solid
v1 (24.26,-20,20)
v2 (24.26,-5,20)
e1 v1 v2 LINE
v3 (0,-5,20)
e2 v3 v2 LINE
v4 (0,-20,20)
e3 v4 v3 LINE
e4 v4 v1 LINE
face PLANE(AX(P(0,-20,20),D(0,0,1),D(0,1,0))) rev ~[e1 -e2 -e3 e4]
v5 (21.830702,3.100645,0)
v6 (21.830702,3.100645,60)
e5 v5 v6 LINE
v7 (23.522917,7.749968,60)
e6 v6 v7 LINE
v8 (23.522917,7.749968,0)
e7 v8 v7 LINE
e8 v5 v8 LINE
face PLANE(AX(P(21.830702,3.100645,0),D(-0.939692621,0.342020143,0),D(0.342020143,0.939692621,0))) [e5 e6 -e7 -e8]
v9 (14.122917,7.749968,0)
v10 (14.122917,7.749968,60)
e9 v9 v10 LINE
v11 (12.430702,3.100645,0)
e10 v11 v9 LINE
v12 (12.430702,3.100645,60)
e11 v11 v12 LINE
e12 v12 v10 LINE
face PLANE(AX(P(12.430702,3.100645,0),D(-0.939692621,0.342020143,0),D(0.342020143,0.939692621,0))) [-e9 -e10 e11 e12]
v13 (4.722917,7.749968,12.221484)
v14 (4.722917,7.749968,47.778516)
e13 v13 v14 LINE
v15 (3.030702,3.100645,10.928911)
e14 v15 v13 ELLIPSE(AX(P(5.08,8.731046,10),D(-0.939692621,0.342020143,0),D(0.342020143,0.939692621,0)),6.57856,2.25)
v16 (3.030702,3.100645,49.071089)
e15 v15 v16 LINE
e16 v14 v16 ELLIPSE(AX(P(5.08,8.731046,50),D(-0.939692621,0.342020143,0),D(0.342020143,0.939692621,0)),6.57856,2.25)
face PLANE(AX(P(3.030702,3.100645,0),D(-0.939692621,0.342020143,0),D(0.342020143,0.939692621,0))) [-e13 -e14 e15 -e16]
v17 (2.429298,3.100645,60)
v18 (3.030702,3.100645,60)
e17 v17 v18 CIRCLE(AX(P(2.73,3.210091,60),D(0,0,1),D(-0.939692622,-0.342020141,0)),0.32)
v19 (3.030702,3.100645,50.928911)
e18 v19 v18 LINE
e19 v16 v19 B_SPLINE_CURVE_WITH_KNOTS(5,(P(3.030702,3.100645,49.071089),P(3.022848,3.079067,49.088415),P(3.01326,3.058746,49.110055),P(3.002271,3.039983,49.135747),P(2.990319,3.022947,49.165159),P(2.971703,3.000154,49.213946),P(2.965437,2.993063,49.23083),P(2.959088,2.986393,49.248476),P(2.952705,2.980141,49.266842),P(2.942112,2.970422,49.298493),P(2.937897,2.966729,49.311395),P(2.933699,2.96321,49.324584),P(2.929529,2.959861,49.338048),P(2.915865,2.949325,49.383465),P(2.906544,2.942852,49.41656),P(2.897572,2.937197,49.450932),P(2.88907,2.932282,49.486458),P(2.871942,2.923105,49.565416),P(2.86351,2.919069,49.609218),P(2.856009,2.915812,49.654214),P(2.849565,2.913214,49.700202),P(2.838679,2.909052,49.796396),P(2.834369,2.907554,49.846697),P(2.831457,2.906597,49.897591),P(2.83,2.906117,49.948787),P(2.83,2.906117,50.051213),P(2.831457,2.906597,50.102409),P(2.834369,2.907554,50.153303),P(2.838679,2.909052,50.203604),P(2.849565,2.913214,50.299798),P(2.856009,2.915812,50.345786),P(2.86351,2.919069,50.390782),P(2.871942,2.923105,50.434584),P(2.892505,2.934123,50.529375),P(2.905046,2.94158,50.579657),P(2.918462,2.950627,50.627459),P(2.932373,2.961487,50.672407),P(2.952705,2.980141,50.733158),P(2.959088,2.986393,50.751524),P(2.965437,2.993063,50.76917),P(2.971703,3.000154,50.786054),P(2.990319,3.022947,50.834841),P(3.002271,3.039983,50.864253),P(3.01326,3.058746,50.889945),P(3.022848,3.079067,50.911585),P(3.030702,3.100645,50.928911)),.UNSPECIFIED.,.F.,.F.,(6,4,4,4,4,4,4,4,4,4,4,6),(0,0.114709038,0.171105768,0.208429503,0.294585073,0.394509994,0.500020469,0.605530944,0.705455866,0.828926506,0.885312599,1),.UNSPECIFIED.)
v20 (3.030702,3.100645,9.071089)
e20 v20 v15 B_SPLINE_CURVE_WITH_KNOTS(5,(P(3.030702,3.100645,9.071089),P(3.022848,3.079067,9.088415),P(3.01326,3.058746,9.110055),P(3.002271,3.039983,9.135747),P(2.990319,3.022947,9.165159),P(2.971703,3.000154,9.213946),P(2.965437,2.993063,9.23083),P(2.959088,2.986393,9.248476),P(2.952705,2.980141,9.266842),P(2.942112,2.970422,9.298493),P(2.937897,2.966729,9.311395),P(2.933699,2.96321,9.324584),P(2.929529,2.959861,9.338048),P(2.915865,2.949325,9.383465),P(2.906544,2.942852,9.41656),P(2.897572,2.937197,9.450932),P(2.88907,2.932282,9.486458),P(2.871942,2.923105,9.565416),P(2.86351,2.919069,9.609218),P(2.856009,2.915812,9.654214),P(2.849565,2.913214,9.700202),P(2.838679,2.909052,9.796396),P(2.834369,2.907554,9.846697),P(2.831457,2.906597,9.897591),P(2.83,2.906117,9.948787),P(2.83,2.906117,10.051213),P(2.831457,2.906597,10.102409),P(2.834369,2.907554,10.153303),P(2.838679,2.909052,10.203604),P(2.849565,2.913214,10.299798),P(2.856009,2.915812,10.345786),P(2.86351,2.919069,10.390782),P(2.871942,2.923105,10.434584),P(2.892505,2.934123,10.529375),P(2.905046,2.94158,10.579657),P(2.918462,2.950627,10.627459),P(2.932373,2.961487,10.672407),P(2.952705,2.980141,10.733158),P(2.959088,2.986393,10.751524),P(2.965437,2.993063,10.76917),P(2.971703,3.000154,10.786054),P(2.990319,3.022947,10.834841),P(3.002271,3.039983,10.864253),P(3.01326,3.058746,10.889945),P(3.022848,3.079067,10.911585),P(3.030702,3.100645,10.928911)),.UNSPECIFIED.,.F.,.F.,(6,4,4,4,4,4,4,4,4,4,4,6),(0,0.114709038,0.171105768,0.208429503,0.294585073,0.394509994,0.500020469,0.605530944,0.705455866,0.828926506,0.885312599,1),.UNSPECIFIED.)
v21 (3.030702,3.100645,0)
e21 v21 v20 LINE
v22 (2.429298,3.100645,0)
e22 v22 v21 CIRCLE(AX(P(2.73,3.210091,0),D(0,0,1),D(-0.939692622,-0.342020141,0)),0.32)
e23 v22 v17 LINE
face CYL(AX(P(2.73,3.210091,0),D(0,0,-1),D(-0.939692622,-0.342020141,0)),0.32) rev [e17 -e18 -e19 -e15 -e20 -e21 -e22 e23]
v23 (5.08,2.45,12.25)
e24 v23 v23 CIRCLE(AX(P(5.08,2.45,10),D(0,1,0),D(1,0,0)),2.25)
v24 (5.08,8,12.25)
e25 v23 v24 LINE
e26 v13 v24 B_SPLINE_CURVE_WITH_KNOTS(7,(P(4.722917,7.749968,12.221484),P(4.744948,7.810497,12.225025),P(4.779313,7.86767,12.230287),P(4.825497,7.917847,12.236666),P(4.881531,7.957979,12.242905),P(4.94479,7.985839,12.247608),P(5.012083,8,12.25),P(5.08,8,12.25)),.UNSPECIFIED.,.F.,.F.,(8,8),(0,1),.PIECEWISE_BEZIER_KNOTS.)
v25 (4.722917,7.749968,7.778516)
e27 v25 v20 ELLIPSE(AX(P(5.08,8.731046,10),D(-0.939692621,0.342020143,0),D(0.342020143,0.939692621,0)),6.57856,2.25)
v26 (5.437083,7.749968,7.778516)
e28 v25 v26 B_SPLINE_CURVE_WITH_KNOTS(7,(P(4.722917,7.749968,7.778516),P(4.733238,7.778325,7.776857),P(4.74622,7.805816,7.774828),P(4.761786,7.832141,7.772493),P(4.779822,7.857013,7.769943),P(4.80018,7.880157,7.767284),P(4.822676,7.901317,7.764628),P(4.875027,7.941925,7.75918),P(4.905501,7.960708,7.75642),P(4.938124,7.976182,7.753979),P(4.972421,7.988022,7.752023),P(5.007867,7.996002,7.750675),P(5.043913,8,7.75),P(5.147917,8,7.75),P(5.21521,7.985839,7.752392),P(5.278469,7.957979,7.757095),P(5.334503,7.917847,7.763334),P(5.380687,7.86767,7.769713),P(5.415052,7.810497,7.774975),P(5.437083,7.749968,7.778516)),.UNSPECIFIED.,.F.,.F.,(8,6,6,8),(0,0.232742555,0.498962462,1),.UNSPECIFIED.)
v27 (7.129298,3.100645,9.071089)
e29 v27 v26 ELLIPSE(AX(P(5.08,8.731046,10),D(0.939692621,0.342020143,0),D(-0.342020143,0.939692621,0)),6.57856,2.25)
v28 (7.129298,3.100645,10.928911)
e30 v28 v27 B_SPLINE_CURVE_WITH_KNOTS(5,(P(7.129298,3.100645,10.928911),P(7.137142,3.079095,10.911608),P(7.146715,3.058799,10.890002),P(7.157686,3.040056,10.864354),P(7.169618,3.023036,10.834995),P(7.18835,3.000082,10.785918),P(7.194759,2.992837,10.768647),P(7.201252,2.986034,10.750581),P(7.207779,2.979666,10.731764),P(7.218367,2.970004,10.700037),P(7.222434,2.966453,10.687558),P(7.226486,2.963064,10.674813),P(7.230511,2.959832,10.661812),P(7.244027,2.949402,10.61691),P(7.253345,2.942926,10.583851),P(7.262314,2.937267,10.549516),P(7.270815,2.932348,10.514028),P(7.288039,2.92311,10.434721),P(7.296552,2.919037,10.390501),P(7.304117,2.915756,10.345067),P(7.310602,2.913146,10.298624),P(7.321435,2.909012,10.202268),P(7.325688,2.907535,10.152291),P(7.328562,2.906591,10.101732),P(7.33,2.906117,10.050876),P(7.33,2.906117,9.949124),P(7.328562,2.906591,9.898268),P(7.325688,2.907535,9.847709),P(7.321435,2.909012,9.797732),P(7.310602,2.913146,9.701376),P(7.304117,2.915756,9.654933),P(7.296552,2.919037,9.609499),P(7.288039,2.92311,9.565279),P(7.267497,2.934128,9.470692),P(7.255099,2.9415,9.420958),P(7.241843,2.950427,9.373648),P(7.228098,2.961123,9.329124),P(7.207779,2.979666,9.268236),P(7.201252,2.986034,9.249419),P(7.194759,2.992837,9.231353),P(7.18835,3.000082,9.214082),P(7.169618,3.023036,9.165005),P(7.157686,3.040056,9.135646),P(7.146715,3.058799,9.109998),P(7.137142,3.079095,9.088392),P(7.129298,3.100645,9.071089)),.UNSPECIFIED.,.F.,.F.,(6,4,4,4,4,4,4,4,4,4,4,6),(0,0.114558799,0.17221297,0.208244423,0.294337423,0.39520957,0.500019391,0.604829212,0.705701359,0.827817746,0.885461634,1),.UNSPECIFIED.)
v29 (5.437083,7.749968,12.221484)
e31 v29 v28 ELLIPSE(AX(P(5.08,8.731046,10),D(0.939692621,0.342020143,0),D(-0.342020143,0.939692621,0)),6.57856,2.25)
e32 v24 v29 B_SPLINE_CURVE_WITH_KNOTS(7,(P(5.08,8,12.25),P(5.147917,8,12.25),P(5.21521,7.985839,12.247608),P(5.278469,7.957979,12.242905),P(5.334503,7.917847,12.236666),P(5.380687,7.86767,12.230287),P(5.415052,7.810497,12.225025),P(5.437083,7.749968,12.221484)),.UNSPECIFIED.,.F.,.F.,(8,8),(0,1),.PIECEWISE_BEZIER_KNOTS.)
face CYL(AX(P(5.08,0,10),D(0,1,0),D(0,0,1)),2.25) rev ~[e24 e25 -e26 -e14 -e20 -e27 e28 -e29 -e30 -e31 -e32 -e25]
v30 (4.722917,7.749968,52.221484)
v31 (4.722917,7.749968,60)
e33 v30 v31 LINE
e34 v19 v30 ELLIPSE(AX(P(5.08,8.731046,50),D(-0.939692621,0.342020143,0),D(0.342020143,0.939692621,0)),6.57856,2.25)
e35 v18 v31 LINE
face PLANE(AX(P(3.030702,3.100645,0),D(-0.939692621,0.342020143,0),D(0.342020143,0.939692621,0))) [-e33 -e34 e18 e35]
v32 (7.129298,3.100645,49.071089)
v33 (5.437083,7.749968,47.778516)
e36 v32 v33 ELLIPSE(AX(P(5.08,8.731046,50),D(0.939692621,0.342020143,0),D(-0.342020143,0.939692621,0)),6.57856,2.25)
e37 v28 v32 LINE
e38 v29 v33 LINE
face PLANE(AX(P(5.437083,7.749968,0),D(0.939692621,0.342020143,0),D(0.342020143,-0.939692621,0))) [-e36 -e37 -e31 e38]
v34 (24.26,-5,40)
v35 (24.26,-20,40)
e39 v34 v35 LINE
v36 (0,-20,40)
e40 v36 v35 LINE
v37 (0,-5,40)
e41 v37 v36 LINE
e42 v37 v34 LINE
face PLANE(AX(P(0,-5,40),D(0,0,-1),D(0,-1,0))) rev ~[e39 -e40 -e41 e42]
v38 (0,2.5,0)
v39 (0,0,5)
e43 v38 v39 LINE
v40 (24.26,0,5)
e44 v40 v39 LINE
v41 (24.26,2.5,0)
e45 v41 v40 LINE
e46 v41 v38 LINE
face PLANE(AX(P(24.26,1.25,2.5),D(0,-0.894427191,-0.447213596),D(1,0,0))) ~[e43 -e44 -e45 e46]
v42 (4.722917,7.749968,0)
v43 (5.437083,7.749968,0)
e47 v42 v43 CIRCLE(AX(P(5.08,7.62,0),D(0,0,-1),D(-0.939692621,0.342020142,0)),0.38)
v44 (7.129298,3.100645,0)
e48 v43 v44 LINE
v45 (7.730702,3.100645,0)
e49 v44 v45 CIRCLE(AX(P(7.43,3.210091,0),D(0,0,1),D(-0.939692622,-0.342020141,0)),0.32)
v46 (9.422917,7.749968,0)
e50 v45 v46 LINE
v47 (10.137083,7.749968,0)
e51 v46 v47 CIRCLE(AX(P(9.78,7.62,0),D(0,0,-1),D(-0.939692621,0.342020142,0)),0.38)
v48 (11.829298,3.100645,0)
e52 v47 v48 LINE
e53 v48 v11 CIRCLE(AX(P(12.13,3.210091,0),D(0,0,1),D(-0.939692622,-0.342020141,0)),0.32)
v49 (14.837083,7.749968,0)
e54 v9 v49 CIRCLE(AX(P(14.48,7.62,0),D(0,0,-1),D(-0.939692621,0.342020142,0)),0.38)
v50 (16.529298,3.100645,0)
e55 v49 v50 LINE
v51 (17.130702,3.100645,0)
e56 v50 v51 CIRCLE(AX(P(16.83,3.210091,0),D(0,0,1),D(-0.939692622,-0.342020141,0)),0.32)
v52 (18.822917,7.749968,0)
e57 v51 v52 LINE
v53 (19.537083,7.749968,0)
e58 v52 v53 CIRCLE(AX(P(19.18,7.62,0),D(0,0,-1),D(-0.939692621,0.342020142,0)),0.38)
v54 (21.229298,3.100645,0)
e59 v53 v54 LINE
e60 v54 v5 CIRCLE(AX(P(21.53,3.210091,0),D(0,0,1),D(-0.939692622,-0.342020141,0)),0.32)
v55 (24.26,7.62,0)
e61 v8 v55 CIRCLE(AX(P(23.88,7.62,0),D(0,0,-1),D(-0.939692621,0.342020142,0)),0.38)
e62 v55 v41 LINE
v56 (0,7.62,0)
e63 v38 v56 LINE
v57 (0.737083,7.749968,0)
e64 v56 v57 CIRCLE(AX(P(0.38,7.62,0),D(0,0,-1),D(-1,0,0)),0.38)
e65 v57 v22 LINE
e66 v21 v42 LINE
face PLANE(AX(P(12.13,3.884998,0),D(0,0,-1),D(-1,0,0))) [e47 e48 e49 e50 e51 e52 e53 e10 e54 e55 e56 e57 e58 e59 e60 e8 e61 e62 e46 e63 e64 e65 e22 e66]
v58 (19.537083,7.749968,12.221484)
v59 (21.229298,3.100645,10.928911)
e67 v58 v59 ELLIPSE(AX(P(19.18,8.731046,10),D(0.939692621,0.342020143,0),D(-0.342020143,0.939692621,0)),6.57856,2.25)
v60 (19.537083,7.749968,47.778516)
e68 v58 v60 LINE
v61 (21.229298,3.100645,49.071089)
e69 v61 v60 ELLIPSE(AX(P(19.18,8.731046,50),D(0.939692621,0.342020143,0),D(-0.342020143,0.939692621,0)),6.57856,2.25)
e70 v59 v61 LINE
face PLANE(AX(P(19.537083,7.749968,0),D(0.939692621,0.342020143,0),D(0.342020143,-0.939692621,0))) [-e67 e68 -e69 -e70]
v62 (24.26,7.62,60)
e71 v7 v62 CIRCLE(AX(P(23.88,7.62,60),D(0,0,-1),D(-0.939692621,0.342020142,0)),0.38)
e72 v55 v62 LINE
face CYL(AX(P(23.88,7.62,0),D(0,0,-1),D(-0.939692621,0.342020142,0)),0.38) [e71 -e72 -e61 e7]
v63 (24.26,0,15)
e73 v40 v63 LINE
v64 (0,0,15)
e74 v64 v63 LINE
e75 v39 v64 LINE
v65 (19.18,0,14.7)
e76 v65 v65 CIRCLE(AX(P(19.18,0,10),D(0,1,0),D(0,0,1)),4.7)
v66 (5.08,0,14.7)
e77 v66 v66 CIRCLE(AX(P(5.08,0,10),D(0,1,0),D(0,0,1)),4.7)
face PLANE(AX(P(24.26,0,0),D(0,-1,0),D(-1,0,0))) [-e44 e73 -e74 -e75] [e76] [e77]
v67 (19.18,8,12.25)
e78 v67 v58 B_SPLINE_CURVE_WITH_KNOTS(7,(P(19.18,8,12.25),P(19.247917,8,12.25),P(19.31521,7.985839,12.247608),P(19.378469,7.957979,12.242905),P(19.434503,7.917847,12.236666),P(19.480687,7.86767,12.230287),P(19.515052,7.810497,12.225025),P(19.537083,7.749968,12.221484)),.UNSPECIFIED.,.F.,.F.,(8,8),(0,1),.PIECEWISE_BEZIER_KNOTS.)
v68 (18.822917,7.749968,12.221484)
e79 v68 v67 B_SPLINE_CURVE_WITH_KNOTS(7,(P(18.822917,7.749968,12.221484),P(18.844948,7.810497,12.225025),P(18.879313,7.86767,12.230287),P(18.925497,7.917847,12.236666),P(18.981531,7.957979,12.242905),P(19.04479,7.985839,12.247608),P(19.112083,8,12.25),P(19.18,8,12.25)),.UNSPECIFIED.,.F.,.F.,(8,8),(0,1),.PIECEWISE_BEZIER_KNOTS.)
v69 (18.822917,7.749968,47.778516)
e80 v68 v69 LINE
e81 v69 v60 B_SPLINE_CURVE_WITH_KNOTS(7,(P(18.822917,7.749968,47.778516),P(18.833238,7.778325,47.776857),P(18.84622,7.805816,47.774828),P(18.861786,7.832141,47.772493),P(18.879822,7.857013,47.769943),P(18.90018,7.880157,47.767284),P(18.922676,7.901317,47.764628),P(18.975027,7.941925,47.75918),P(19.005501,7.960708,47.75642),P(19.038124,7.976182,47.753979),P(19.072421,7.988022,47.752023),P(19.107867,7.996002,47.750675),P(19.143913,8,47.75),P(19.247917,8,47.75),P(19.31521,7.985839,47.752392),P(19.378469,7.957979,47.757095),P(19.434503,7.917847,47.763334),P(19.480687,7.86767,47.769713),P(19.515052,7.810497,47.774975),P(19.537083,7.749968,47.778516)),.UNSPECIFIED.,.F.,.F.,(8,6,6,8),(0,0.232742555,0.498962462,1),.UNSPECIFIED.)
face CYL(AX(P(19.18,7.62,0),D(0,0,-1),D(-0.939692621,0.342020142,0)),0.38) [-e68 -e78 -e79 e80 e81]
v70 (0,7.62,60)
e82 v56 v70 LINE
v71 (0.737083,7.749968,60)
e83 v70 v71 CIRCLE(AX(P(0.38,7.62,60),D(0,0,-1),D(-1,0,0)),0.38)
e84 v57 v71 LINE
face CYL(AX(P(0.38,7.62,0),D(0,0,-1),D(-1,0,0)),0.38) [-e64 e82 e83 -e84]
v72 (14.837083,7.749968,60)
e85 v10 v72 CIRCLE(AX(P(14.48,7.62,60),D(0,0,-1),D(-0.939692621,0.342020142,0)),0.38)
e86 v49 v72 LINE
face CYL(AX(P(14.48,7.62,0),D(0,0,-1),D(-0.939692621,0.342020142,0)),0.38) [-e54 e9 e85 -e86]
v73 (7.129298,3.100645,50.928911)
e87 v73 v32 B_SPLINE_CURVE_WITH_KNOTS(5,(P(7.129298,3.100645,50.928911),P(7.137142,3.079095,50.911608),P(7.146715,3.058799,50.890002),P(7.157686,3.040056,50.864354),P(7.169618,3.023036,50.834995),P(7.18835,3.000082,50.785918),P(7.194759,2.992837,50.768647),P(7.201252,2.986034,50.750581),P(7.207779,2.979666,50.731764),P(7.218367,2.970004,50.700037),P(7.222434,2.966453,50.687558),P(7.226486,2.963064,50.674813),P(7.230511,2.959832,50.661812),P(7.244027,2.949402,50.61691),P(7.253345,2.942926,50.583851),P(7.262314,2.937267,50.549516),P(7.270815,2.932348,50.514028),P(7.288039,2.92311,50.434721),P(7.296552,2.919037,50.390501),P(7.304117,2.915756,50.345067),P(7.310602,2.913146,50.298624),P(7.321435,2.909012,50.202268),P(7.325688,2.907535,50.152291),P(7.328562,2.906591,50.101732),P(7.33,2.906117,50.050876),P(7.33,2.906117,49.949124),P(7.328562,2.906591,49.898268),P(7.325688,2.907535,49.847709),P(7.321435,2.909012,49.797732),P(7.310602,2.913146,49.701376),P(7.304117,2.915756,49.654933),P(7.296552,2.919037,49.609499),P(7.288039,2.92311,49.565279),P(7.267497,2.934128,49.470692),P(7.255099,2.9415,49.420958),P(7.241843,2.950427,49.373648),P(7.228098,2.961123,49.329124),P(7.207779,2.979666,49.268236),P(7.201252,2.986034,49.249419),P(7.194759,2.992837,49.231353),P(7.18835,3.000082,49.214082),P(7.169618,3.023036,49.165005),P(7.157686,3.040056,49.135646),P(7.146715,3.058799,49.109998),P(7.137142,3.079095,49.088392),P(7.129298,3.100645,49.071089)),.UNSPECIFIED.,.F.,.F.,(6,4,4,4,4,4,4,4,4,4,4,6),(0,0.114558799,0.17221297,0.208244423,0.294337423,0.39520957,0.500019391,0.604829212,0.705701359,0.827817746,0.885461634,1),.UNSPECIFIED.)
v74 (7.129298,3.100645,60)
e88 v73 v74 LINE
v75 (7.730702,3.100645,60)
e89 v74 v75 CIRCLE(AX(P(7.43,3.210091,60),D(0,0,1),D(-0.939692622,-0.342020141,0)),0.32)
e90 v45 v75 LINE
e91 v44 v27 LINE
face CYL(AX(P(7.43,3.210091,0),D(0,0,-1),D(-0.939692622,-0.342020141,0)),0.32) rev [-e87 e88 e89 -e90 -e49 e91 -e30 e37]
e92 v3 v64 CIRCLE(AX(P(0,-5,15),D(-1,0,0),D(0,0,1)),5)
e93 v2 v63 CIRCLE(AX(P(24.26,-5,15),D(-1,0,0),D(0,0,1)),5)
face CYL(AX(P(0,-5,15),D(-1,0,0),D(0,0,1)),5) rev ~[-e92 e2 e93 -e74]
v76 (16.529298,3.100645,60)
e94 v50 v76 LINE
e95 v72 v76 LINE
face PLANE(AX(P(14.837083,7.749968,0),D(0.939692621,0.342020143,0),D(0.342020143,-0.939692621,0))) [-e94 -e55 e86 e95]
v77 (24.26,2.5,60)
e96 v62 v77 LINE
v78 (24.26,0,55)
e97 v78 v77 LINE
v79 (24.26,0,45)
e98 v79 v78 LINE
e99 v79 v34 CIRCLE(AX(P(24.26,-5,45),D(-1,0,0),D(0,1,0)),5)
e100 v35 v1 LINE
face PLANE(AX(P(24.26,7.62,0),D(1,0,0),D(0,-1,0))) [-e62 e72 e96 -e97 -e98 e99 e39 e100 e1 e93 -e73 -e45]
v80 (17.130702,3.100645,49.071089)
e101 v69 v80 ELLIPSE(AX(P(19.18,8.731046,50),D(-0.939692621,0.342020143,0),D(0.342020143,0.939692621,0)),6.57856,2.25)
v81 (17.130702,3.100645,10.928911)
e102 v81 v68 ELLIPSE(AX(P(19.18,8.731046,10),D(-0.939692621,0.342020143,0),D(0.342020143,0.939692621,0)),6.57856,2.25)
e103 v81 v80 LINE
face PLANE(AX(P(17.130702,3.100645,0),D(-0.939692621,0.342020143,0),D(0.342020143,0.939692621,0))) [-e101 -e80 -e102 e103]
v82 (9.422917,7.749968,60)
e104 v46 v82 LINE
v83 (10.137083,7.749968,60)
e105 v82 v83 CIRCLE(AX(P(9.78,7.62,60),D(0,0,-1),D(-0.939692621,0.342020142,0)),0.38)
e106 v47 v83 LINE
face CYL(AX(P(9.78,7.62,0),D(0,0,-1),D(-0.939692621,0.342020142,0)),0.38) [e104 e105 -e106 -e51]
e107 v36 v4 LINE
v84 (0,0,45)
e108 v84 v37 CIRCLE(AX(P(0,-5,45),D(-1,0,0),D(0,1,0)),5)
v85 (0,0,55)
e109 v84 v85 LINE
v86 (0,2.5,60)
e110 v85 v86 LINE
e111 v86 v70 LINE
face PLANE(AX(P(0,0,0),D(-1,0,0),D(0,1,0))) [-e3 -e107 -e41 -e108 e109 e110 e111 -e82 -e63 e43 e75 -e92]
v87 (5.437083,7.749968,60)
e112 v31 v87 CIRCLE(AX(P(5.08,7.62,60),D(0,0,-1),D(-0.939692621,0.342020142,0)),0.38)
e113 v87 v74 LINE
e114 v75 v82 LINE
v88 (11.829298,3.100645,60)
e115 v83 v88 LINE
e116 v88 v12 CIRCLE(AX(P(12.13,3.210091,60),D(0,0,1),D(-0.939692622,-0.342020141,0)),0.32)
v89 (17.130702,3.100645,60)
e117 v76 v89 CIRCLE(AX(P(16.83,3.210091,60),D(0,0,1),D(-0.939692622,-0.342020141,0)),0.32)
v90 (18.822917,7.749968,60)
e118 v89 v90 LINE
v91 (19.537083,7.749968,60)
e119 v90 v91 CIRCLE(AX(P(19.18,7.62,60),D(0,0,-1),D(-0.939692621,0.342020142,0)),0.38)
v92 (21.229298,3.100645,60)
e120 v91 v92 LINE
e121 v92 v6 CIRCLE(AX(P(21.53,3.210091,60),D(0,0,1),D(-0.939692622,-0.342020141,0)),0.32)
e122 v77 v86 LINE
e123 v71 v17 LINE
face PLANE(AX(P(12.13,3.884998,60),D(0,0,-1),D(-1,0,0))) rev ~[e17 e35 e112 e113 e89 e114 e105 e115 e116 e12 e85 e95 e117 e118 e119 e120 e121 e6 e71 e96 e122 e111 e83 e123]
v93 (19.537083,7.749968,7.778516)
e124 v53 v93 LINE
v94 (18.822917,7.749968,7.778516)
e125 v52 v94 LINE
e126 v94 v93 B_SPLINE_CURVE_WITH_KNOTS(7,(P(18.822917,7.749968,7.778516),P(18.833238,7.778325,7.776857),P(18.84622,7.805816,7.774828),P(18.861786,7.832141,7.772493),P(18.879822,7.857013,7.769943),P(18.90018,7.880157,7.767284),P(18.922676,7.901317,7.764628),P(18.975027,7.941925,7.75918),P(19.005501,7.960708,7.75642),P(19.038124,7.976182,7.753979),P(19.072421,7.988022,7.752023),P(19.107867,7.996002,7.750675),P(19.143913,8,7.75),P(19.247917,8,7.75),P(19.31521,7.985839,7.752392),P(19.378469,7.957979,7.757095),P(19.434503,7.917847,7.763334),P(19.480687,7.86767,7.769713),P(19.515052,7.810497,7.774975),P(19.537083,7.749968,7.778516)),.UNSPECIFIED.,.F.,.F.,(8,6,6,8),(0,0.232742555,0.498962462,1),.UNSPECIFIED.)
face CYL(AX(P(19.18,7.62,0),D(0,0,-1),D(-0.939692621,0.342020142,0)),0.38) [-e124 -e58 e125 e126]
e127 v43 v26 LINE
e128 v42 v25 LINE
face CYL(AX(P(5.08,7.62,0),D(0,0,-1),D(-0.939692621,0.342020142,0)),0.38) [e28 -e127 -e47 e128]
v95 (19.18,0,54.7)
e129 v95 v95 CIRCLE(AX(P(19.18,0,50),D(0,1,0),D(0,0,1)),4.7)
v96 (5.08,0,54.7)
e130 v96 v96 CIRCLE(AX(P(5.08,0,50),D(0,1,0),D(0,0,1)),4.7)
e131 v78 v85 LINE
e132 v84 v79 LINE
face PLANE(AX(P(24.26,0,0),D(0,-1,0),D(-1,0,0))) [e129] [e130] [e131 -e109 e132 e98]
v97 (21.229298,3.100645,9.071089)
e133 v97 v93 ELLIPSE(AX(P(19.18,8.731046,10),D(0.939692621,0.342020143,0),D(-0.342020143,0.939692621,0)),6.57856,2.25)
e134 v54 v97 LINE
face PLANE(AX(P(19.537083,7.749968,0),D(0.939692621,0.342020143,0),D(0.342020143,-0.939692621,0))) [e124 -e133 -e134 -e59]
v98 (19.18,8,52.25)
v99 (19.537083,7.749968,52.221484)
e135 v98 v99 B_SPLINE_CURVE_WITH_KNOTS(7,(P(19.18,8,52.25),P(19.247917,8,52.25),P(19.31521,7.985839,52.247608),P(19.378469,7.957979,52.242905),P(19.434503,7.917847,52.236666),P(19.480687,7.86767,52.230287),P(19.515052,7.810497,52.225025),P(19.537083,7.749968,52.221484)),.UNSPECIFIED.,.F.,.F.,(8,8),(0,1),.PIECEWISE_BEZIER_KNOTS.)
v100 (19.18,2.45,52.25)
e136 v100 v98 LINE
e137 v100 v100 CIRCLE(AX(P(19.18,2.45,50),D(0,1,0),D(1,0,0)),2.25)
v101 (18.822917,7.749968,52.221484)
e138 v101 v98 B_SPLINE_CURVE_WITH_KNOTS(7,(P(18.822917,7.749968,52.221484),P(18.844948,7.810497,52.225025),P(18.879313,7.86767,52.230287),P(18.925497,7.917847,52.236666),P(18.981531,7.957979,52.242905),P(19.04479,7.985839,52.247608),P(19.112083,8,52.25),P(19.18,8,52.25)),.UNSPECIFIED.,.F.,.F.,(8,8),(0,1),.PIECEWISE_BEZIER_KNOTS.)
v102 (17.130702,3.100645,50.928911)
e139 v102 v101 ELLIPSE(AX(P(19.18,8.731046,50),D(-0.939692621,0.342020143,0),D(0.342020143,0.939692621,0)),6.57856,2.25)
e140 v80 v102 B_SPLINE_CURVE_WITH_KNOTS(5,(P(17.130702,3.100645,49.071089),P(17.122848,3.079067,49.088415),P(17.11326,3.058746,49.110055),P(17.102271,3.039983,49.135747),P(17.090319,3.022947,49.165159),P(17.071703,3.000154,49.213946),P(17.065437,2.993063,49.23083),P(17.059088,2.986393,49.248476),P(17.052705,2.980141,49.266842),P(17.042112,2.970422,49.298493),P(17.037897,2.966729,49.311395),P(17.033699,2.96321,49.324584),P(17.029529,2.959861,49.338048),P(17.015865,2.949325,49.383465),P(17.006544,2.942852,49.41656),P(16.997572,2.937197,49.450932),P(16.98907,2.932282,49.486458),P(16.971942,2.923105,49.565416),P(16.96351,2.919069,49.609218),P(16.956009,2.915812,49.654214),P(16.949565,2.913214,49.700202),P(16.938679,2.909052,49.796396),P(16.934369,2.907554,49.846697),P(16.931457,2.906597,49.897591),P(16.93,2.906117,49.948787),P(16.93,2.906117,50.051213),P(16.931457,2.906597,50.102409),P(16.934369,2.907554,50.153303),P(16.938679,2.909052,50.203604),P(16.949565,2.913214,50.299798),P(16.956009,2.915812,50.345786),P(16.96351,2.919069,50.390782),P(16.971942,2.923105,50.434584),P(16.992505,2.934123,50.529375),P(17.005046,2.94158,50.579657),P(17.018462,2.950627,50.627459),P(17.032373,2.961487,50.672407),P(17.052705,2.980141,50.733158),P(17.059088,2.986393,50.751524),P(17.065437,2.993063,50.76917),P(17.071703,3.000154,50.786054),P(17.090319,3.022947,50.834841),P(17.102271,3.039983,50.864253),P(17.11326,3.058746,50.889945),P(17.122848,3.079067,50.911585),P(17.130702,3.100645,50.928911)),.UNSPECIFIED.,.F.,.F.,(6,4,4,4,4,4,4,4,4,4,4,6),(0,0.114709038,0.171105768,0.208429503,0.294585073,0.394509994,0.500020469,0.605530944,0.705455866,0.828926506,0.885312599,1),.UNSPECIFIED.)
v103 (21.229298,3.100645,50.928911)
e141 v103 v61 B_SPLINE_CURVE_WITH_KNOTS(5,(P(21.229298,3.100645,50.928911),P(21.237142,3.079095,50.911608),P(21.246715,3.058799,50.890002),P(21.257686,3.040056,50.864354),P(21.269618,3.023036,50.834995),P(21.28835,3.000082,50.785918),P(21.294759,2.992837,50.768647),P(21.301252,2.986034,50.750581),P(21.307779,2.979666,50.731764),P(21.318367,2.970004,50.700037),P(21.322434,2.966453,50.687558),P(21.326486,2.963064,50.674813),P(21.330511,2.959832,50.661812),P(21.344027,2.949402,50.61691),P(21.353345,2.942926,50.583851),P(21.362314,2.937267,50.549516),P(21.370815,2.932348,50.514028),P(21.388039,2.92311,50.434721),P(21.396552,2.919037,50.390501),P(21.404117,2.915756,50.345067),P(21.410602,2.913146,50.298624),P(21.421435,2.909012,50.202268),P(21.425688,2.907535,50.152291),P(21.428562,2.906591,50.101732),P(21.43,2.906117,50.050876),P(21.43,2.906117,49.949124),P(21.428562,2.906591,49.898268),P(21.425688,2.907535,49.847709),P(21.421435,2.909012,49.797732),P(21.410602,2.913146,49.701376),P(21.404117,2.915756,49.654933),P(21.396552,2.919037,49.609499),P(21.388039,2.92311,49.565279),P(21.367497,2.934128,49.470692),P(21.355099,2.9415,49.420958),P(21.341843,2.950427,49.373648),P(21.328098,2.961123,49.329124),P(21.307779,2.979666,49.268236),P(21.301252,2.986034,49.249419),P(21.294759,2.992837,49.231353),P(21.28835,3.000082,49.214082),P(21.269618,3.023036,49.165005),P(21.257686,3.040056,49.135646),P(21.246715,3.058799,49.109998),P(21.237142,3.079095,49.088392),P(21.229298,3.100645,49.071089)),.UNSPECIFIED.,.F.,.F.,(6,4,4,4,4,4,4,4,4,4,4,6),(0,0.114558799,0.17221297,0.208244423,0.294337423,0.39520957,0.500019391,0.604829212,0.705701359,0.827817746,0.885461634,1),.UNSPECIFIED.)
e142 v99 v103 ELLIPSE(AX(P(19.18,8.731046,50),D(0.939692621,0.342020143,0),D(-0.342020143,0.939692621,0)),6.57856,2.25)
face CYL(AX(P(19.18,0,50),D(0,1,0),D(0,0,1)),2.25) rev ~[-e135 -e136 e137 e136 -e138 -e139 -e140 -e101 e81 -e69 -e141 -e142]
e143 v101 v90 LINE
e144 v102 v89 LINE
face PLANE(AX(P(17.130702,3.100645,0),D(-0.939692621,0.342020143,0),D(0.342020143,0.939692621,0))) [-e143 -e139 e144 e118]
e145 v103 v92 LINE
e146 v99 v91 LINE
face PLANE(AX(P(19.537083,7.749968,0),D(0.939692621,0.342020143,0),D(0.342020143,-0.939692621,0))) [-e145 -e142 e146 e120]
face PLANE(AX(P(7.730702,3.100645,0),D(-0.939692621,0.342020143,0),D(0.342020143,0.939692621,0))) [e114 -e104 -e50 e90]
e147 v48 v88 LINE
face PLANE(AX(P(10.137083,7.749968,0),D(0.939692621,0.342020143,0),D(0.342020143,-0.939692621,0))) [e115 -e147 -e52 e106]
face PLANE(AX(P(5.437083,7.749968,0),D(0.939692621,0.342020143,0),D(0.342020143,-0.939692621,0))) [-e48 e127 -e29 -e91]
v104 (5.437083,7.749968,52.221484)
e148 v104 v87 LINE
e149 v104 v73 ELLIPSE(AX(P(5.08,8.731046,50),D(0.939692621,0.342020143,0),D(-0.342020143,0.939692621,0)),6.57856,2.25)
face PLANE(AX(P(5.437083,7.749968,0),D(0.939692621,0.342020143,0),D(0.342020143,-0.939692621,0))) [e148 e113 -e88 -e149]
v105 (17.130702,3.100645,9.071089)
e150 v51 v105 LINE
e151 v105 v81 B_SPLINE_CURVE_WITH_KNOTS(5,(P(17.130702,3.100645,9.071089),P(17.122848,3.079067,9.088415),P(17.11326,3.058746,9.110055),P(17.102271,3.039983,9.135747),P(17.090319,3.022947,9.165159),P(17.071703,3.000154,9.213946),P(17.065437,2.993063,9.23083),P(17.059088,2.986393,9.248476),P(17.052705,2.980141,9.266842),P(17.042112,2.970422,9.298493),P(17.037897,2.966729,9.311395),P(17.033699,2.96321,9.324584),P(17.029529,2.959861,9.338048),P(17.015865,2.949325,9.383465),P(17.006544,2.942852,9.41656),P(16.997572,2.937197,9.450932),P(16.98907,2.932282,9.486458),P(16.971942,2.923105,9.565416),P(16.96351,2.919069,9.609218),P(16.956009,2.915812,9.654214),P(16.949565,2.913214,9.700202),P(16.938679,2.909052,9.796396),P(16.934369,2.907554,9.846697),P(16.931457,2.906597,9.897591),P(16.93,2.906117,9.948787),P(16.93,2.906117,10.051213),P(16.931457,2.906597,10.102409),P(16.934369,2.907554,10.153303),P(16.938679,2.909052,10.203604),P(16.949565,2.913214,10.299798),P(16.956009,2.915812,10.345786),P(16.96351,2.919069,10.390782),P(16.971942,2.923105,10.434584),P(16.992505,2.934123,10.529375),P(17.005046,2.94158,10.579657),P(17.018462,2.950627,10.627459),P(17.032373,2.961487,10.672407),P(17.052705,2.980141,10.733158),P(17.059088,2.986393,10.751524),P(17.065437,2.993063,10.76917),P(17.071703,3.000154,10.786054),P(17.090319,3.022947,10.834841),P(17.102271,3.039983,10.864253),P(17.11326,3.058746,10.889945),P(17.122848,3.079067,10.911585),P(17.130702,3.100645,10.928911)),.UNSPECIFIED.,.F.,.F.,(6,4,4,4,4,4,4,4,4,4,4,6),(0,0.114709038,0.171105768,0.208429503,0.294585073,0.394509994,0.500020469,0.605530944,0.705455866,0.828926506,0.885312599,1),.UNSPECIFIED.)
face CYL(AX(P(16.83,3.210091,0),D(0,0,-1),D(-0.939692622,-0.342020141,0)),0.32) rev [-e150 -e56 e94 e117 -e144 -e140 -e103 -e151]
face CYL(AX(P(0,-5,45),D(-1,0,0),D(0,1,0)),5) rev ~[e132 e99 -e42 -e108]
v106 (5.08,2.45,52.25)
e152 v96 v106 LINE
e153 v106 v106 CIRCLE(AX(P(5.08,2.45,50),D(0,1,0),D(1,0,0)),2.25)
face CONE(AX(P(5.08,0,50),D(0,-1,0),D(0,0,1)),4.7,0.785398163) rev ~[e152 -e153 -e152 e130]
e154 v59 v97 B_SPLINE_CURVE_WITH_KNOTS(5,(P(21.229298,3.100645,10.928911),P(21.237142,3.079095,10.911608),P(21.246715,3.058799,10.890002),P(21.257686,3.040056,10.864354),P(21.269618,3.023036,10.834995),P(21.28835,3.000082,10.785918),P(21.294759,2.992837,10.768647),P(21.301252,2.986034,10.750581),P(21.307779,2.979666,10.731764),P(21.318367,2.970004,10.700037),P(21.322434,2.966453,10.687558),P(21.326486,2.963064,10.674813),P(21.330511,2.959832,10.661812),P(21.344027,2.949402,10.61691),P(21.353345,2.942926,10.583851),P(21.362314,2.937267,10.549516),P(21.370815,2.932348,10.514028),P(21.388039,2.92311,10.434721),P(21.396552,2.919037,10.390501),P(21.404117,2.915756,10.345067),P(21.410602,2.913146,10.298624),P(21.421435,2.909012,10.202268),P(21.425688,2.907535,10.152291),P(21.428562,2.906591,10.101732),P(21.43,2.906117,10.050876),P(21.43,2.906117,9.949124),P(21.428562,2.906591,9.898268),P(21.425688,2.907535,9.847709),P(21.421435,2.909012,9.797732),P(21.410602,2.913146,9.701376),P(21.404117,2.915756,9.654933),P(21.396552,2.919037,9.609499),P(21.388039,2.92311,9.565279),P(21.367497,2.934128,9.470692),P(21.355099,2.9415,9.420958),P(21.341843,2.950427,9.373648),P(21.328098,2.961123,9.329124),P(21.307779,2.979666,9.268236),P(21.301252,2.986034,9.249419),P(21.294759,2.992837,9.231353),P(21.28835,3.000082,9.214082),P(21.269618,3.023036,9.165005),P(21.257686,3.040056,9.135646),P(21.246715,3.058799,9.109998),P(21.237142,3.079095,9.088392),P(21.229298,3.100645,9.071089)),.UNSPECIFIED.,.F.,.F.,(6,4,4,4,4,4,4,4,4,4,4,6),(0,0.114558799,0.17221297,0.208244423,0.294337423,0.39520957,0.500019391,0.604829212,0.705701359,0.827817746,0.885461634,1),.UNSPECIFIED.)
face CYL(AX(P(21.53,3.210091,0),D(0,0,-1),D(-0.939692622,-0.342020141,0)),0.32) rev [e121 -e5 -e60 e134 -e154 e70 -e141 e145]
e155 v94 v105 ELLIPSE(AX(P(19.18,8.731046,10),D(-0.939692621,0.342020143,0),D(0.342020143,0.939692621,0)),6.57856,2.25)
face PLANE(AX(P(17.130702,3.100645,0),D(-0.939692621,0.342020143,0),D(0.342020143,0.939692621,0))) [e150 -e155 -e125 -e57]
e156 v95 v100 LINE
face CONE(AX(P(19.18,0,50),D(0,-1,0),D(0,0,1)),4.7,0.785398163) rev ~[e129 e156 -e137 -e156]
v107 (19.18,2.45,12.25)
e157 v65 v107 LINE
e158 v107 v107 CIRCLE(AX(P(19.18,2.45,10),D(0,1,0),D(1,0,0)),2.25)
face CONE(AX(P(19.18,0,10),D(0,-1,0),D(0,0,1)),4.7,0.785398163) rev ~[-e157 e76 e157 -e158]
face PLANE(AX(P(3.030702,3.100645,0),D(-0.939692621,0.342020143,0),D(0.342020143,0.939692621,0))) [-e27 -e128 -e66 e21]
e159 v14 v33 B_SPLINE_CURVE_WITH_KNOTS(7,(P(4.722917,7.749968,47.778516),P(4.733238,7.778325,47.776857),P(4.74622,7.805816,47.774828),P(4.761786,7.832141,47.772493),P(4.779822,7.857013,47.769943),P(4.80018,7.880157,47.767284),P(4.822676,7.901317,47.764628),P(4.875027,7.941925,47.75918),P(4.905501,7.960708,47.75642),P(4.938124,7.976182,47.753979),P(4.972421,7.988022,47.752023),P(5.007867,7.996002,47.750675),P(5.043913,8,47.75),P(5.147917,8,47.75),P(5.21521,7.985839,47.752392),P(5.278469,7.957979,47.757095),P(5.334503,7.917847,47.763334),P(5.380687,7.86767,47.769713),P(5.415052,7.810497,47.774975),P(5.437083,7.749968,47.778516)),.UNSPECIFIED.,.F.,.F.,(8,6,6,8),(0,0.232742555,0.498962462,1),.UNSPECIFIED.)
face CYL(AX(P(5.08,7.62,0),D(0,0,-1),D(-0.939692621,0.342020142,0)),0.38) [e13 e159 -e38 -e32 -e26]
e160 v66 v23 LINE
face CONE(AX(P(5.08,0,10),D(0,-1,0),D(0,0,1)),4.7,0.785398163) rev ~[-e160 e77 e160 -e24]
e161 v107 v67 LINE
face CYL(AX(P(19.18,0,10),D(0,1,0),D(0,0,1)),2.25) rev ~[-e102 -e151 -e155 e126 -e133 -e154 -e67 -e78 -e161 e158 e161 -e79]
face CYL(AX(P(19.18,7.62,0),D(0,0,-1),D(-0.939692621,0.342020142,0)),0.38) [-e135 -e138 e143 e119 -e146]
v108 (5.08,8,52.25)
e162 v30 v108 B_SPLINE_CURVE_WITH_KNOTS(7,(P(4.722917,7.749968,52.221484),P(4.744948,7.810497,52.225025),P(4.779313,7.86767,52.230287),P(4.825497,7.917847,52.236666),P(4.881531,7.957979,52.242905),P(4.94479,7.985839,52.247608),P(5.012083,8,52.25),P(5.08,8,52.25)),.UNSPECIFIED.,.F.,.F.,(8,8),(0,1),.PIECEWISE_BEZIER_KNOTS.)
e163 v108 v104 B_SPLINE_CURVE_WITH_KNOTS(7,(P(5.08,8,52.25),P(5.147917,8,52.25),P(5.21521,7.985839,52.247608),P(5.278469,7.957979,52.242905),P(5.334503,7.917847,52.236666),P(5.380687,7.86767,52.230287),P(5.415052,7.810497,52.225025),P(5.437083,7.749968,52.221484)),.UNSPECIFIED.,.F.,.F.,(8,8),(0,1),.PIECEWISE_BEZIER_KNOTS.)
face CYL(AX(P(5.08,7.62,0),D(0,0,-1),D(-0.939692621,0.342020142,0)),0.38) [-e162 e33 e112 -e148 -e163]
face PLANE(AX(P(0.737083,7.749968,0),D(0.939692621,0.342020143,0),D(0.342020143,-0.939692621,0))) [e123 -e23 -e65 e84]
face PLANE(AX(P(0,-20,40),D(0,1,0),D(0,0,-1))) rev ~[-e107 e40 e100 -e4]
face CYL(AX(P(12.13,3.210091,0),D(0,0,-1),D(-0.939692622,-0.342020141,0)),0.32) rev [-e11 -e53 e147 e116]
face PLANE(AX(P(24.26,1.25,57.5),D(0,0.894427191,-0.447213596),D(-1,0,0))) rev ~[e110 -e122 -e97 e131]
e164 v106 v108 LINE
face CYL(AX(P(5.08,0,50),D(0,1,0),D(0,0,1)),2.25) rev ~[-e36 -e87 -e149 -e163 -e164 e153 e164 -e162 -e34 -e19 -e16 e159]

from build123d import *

# Parameters (mm, degrees)
EXTRUDE_1_DEPTH             = 60
HOLE_WIZARD_M41_D           = 4.5
HOLE_WIZARD_M41_CSINK_D     = 9.4
HOLE_WIZARD_M41_CSINK_ANGLE = 90
EXTRUDE_2_DEPTH             = 24.26
CHAMFER_1_SIZE              = 2.5
CHAMFER_1_SIZE2             = 5
CHAMFER_2_SIZE              = 5
CHAMFER_2_SIZE2             = 2.5


with BuildPart() as part:
    # Эскиз1 → Бобышка-Вытянуть1 (new body)
    with BuildSketch(Plane.XY):
        with BuildLine():
            Line((0.737083196, 7.749967654), (2.429298361, 3.100644699))
            ThreePointArc((2.429298361, 3.100644699), (2.73, 2.890091144), (3.030701639, 3.100644699))
            Line((3.030701639, 3.100644699), (4.722916804, 7.749967654))
            ThreePointArc((4.722916804, 7.749967654), (5.08, 8), (5.437083196, 7.749967654))
            Line((5.437083196, 7.749967654), (7.129298361, 3.100644699))
            ThreePointArc((7.129298361, 3.100644699), (7.43, 2.890091144), (7.730701639, 3.100644699))
            Line((7.730701639, 3.100644699), (9.422916804, 7.749967654))
            ThreePointArc((9.422916804, 7.749967654), (9.78, 8), (10.137083196, 7.749967654))
            Line((10.137083196, 7.749967654), (11.829298361, 3.100644699))
            ThreePointArc((11.829298361, 3.100644699), (12.13, 2.890091144), (12.430701639, 3.100644699))
            Line((12.430701639, 3.100644699), (14.122916804, 7.749967654))
            ThreePointArc((14.122916804, 7.749967654), (14.48, 8), (14.837083196, 7.749967654))
            Line((14.837083196, 7.749967654), (16.529298361, 3.100644699))
            ThreePointArc((16.529298361, 3.100644699), (16.83, 2.890091144), (17.130701639, 3.100644699))
            Line((17.130701639, 3.100644699), (18.822916804, 7.749967654))
            ThreePointArc((18.822916804, 7.749967654), (19.18, 8), (19.537083196, 7.749967654))
            Line((19.537083196, 7.749967654), (21.229298361, 3.100644699))
            ThreePointArc((21.229298361, 3.100644699), (21.53, 2.890091144), (21.830701639, 3.100644699))
            Line((21.830701639, 3.100644699), (23.522916804, 7.749967654))
            ThreePointArc((23.522916804, 7.749967654), (23.945986308, 7.994226946), (24.26, 7.62))
            Line((24.26, 7.62), (24.26, 0))
            Line((24.26, 0), (0, 0))
            Line((0, 0), (0, 7.62))
            ThreePointArc((0, 7.62), (0.314013692, 7.994226946), (0.737083196, 7.749967654))
        make_face()
    extrude(amount=EXTRUDE_1_DEPTH)

    # Зенковка для  винта с плоской головкой M41 (through all)
    with Locations(Plane(origin=(5.08, 0, 50), x_dir=(0, 0, -1), z_dir=(0, -1, 0))):
        with Locations((0, 0), (0, 14.1), (40, 14.1), (40, 0)):
            CounterSinkHole(HOLE_WIZARD_M41_D / 2, HOLE_WIZARD_M41_CSINK_D / 2, counter_sink_angle=HOLE_WIZARD_M41_CSINK_ANGLE)

    # Эскиз6 → Бобышка-Вытянуть2 (add, through all)
    with BuildSketch(Plane.ZY):
        with BuildLine():
            Line((40, -5), (40, -20))
            Line((40, -20), (20, -20))
            Line((20, -20), (20, -5))
            ThreePointArc((20, -5), (18.535533906, -1.464466094), (15, 0))
            Line((15, 0), (45, 0))
            ThreePointArc((45, 0), (41.464466094, -1.464466094), (40, -5))
        make_face()
    extrude(amount=-EXTRUDE_2_DEPTH)

    # Фаска1
    chamfer_1_edges = [part.edges().sort_by_distance(p)[0] for p in [
        (12.13, 0, 0),
    ]]
    chamfer_1_side = [part.faces().sort_by_distance(p)[0] for p in [
        (1.343146193, 5.337937092, 0),
    ]]
    chamfer(chamfer_1_edges, length=CHAMFER_1_SIZE, length2=CHAMFER_1_SIZE2, reference=chamfer_1_side[0])

    # Фаска2
    chamfer_2_edges = [part.edges().sort_by_distance(p)[0] for p in [
        (12.13, 0, 60),
    ]]
    chamfer_2_side = [part.faces().sort_by_distance(p)[0] for p in [
        (12.13, 0, 54.04145744),
    ]]
    chamfer(chamfer_2_edges, length=CHAMFER_2_SIZE, length2=CHAMFER_2_SIZE2, reference=chamfer_2_side[0])


solid = part.part
